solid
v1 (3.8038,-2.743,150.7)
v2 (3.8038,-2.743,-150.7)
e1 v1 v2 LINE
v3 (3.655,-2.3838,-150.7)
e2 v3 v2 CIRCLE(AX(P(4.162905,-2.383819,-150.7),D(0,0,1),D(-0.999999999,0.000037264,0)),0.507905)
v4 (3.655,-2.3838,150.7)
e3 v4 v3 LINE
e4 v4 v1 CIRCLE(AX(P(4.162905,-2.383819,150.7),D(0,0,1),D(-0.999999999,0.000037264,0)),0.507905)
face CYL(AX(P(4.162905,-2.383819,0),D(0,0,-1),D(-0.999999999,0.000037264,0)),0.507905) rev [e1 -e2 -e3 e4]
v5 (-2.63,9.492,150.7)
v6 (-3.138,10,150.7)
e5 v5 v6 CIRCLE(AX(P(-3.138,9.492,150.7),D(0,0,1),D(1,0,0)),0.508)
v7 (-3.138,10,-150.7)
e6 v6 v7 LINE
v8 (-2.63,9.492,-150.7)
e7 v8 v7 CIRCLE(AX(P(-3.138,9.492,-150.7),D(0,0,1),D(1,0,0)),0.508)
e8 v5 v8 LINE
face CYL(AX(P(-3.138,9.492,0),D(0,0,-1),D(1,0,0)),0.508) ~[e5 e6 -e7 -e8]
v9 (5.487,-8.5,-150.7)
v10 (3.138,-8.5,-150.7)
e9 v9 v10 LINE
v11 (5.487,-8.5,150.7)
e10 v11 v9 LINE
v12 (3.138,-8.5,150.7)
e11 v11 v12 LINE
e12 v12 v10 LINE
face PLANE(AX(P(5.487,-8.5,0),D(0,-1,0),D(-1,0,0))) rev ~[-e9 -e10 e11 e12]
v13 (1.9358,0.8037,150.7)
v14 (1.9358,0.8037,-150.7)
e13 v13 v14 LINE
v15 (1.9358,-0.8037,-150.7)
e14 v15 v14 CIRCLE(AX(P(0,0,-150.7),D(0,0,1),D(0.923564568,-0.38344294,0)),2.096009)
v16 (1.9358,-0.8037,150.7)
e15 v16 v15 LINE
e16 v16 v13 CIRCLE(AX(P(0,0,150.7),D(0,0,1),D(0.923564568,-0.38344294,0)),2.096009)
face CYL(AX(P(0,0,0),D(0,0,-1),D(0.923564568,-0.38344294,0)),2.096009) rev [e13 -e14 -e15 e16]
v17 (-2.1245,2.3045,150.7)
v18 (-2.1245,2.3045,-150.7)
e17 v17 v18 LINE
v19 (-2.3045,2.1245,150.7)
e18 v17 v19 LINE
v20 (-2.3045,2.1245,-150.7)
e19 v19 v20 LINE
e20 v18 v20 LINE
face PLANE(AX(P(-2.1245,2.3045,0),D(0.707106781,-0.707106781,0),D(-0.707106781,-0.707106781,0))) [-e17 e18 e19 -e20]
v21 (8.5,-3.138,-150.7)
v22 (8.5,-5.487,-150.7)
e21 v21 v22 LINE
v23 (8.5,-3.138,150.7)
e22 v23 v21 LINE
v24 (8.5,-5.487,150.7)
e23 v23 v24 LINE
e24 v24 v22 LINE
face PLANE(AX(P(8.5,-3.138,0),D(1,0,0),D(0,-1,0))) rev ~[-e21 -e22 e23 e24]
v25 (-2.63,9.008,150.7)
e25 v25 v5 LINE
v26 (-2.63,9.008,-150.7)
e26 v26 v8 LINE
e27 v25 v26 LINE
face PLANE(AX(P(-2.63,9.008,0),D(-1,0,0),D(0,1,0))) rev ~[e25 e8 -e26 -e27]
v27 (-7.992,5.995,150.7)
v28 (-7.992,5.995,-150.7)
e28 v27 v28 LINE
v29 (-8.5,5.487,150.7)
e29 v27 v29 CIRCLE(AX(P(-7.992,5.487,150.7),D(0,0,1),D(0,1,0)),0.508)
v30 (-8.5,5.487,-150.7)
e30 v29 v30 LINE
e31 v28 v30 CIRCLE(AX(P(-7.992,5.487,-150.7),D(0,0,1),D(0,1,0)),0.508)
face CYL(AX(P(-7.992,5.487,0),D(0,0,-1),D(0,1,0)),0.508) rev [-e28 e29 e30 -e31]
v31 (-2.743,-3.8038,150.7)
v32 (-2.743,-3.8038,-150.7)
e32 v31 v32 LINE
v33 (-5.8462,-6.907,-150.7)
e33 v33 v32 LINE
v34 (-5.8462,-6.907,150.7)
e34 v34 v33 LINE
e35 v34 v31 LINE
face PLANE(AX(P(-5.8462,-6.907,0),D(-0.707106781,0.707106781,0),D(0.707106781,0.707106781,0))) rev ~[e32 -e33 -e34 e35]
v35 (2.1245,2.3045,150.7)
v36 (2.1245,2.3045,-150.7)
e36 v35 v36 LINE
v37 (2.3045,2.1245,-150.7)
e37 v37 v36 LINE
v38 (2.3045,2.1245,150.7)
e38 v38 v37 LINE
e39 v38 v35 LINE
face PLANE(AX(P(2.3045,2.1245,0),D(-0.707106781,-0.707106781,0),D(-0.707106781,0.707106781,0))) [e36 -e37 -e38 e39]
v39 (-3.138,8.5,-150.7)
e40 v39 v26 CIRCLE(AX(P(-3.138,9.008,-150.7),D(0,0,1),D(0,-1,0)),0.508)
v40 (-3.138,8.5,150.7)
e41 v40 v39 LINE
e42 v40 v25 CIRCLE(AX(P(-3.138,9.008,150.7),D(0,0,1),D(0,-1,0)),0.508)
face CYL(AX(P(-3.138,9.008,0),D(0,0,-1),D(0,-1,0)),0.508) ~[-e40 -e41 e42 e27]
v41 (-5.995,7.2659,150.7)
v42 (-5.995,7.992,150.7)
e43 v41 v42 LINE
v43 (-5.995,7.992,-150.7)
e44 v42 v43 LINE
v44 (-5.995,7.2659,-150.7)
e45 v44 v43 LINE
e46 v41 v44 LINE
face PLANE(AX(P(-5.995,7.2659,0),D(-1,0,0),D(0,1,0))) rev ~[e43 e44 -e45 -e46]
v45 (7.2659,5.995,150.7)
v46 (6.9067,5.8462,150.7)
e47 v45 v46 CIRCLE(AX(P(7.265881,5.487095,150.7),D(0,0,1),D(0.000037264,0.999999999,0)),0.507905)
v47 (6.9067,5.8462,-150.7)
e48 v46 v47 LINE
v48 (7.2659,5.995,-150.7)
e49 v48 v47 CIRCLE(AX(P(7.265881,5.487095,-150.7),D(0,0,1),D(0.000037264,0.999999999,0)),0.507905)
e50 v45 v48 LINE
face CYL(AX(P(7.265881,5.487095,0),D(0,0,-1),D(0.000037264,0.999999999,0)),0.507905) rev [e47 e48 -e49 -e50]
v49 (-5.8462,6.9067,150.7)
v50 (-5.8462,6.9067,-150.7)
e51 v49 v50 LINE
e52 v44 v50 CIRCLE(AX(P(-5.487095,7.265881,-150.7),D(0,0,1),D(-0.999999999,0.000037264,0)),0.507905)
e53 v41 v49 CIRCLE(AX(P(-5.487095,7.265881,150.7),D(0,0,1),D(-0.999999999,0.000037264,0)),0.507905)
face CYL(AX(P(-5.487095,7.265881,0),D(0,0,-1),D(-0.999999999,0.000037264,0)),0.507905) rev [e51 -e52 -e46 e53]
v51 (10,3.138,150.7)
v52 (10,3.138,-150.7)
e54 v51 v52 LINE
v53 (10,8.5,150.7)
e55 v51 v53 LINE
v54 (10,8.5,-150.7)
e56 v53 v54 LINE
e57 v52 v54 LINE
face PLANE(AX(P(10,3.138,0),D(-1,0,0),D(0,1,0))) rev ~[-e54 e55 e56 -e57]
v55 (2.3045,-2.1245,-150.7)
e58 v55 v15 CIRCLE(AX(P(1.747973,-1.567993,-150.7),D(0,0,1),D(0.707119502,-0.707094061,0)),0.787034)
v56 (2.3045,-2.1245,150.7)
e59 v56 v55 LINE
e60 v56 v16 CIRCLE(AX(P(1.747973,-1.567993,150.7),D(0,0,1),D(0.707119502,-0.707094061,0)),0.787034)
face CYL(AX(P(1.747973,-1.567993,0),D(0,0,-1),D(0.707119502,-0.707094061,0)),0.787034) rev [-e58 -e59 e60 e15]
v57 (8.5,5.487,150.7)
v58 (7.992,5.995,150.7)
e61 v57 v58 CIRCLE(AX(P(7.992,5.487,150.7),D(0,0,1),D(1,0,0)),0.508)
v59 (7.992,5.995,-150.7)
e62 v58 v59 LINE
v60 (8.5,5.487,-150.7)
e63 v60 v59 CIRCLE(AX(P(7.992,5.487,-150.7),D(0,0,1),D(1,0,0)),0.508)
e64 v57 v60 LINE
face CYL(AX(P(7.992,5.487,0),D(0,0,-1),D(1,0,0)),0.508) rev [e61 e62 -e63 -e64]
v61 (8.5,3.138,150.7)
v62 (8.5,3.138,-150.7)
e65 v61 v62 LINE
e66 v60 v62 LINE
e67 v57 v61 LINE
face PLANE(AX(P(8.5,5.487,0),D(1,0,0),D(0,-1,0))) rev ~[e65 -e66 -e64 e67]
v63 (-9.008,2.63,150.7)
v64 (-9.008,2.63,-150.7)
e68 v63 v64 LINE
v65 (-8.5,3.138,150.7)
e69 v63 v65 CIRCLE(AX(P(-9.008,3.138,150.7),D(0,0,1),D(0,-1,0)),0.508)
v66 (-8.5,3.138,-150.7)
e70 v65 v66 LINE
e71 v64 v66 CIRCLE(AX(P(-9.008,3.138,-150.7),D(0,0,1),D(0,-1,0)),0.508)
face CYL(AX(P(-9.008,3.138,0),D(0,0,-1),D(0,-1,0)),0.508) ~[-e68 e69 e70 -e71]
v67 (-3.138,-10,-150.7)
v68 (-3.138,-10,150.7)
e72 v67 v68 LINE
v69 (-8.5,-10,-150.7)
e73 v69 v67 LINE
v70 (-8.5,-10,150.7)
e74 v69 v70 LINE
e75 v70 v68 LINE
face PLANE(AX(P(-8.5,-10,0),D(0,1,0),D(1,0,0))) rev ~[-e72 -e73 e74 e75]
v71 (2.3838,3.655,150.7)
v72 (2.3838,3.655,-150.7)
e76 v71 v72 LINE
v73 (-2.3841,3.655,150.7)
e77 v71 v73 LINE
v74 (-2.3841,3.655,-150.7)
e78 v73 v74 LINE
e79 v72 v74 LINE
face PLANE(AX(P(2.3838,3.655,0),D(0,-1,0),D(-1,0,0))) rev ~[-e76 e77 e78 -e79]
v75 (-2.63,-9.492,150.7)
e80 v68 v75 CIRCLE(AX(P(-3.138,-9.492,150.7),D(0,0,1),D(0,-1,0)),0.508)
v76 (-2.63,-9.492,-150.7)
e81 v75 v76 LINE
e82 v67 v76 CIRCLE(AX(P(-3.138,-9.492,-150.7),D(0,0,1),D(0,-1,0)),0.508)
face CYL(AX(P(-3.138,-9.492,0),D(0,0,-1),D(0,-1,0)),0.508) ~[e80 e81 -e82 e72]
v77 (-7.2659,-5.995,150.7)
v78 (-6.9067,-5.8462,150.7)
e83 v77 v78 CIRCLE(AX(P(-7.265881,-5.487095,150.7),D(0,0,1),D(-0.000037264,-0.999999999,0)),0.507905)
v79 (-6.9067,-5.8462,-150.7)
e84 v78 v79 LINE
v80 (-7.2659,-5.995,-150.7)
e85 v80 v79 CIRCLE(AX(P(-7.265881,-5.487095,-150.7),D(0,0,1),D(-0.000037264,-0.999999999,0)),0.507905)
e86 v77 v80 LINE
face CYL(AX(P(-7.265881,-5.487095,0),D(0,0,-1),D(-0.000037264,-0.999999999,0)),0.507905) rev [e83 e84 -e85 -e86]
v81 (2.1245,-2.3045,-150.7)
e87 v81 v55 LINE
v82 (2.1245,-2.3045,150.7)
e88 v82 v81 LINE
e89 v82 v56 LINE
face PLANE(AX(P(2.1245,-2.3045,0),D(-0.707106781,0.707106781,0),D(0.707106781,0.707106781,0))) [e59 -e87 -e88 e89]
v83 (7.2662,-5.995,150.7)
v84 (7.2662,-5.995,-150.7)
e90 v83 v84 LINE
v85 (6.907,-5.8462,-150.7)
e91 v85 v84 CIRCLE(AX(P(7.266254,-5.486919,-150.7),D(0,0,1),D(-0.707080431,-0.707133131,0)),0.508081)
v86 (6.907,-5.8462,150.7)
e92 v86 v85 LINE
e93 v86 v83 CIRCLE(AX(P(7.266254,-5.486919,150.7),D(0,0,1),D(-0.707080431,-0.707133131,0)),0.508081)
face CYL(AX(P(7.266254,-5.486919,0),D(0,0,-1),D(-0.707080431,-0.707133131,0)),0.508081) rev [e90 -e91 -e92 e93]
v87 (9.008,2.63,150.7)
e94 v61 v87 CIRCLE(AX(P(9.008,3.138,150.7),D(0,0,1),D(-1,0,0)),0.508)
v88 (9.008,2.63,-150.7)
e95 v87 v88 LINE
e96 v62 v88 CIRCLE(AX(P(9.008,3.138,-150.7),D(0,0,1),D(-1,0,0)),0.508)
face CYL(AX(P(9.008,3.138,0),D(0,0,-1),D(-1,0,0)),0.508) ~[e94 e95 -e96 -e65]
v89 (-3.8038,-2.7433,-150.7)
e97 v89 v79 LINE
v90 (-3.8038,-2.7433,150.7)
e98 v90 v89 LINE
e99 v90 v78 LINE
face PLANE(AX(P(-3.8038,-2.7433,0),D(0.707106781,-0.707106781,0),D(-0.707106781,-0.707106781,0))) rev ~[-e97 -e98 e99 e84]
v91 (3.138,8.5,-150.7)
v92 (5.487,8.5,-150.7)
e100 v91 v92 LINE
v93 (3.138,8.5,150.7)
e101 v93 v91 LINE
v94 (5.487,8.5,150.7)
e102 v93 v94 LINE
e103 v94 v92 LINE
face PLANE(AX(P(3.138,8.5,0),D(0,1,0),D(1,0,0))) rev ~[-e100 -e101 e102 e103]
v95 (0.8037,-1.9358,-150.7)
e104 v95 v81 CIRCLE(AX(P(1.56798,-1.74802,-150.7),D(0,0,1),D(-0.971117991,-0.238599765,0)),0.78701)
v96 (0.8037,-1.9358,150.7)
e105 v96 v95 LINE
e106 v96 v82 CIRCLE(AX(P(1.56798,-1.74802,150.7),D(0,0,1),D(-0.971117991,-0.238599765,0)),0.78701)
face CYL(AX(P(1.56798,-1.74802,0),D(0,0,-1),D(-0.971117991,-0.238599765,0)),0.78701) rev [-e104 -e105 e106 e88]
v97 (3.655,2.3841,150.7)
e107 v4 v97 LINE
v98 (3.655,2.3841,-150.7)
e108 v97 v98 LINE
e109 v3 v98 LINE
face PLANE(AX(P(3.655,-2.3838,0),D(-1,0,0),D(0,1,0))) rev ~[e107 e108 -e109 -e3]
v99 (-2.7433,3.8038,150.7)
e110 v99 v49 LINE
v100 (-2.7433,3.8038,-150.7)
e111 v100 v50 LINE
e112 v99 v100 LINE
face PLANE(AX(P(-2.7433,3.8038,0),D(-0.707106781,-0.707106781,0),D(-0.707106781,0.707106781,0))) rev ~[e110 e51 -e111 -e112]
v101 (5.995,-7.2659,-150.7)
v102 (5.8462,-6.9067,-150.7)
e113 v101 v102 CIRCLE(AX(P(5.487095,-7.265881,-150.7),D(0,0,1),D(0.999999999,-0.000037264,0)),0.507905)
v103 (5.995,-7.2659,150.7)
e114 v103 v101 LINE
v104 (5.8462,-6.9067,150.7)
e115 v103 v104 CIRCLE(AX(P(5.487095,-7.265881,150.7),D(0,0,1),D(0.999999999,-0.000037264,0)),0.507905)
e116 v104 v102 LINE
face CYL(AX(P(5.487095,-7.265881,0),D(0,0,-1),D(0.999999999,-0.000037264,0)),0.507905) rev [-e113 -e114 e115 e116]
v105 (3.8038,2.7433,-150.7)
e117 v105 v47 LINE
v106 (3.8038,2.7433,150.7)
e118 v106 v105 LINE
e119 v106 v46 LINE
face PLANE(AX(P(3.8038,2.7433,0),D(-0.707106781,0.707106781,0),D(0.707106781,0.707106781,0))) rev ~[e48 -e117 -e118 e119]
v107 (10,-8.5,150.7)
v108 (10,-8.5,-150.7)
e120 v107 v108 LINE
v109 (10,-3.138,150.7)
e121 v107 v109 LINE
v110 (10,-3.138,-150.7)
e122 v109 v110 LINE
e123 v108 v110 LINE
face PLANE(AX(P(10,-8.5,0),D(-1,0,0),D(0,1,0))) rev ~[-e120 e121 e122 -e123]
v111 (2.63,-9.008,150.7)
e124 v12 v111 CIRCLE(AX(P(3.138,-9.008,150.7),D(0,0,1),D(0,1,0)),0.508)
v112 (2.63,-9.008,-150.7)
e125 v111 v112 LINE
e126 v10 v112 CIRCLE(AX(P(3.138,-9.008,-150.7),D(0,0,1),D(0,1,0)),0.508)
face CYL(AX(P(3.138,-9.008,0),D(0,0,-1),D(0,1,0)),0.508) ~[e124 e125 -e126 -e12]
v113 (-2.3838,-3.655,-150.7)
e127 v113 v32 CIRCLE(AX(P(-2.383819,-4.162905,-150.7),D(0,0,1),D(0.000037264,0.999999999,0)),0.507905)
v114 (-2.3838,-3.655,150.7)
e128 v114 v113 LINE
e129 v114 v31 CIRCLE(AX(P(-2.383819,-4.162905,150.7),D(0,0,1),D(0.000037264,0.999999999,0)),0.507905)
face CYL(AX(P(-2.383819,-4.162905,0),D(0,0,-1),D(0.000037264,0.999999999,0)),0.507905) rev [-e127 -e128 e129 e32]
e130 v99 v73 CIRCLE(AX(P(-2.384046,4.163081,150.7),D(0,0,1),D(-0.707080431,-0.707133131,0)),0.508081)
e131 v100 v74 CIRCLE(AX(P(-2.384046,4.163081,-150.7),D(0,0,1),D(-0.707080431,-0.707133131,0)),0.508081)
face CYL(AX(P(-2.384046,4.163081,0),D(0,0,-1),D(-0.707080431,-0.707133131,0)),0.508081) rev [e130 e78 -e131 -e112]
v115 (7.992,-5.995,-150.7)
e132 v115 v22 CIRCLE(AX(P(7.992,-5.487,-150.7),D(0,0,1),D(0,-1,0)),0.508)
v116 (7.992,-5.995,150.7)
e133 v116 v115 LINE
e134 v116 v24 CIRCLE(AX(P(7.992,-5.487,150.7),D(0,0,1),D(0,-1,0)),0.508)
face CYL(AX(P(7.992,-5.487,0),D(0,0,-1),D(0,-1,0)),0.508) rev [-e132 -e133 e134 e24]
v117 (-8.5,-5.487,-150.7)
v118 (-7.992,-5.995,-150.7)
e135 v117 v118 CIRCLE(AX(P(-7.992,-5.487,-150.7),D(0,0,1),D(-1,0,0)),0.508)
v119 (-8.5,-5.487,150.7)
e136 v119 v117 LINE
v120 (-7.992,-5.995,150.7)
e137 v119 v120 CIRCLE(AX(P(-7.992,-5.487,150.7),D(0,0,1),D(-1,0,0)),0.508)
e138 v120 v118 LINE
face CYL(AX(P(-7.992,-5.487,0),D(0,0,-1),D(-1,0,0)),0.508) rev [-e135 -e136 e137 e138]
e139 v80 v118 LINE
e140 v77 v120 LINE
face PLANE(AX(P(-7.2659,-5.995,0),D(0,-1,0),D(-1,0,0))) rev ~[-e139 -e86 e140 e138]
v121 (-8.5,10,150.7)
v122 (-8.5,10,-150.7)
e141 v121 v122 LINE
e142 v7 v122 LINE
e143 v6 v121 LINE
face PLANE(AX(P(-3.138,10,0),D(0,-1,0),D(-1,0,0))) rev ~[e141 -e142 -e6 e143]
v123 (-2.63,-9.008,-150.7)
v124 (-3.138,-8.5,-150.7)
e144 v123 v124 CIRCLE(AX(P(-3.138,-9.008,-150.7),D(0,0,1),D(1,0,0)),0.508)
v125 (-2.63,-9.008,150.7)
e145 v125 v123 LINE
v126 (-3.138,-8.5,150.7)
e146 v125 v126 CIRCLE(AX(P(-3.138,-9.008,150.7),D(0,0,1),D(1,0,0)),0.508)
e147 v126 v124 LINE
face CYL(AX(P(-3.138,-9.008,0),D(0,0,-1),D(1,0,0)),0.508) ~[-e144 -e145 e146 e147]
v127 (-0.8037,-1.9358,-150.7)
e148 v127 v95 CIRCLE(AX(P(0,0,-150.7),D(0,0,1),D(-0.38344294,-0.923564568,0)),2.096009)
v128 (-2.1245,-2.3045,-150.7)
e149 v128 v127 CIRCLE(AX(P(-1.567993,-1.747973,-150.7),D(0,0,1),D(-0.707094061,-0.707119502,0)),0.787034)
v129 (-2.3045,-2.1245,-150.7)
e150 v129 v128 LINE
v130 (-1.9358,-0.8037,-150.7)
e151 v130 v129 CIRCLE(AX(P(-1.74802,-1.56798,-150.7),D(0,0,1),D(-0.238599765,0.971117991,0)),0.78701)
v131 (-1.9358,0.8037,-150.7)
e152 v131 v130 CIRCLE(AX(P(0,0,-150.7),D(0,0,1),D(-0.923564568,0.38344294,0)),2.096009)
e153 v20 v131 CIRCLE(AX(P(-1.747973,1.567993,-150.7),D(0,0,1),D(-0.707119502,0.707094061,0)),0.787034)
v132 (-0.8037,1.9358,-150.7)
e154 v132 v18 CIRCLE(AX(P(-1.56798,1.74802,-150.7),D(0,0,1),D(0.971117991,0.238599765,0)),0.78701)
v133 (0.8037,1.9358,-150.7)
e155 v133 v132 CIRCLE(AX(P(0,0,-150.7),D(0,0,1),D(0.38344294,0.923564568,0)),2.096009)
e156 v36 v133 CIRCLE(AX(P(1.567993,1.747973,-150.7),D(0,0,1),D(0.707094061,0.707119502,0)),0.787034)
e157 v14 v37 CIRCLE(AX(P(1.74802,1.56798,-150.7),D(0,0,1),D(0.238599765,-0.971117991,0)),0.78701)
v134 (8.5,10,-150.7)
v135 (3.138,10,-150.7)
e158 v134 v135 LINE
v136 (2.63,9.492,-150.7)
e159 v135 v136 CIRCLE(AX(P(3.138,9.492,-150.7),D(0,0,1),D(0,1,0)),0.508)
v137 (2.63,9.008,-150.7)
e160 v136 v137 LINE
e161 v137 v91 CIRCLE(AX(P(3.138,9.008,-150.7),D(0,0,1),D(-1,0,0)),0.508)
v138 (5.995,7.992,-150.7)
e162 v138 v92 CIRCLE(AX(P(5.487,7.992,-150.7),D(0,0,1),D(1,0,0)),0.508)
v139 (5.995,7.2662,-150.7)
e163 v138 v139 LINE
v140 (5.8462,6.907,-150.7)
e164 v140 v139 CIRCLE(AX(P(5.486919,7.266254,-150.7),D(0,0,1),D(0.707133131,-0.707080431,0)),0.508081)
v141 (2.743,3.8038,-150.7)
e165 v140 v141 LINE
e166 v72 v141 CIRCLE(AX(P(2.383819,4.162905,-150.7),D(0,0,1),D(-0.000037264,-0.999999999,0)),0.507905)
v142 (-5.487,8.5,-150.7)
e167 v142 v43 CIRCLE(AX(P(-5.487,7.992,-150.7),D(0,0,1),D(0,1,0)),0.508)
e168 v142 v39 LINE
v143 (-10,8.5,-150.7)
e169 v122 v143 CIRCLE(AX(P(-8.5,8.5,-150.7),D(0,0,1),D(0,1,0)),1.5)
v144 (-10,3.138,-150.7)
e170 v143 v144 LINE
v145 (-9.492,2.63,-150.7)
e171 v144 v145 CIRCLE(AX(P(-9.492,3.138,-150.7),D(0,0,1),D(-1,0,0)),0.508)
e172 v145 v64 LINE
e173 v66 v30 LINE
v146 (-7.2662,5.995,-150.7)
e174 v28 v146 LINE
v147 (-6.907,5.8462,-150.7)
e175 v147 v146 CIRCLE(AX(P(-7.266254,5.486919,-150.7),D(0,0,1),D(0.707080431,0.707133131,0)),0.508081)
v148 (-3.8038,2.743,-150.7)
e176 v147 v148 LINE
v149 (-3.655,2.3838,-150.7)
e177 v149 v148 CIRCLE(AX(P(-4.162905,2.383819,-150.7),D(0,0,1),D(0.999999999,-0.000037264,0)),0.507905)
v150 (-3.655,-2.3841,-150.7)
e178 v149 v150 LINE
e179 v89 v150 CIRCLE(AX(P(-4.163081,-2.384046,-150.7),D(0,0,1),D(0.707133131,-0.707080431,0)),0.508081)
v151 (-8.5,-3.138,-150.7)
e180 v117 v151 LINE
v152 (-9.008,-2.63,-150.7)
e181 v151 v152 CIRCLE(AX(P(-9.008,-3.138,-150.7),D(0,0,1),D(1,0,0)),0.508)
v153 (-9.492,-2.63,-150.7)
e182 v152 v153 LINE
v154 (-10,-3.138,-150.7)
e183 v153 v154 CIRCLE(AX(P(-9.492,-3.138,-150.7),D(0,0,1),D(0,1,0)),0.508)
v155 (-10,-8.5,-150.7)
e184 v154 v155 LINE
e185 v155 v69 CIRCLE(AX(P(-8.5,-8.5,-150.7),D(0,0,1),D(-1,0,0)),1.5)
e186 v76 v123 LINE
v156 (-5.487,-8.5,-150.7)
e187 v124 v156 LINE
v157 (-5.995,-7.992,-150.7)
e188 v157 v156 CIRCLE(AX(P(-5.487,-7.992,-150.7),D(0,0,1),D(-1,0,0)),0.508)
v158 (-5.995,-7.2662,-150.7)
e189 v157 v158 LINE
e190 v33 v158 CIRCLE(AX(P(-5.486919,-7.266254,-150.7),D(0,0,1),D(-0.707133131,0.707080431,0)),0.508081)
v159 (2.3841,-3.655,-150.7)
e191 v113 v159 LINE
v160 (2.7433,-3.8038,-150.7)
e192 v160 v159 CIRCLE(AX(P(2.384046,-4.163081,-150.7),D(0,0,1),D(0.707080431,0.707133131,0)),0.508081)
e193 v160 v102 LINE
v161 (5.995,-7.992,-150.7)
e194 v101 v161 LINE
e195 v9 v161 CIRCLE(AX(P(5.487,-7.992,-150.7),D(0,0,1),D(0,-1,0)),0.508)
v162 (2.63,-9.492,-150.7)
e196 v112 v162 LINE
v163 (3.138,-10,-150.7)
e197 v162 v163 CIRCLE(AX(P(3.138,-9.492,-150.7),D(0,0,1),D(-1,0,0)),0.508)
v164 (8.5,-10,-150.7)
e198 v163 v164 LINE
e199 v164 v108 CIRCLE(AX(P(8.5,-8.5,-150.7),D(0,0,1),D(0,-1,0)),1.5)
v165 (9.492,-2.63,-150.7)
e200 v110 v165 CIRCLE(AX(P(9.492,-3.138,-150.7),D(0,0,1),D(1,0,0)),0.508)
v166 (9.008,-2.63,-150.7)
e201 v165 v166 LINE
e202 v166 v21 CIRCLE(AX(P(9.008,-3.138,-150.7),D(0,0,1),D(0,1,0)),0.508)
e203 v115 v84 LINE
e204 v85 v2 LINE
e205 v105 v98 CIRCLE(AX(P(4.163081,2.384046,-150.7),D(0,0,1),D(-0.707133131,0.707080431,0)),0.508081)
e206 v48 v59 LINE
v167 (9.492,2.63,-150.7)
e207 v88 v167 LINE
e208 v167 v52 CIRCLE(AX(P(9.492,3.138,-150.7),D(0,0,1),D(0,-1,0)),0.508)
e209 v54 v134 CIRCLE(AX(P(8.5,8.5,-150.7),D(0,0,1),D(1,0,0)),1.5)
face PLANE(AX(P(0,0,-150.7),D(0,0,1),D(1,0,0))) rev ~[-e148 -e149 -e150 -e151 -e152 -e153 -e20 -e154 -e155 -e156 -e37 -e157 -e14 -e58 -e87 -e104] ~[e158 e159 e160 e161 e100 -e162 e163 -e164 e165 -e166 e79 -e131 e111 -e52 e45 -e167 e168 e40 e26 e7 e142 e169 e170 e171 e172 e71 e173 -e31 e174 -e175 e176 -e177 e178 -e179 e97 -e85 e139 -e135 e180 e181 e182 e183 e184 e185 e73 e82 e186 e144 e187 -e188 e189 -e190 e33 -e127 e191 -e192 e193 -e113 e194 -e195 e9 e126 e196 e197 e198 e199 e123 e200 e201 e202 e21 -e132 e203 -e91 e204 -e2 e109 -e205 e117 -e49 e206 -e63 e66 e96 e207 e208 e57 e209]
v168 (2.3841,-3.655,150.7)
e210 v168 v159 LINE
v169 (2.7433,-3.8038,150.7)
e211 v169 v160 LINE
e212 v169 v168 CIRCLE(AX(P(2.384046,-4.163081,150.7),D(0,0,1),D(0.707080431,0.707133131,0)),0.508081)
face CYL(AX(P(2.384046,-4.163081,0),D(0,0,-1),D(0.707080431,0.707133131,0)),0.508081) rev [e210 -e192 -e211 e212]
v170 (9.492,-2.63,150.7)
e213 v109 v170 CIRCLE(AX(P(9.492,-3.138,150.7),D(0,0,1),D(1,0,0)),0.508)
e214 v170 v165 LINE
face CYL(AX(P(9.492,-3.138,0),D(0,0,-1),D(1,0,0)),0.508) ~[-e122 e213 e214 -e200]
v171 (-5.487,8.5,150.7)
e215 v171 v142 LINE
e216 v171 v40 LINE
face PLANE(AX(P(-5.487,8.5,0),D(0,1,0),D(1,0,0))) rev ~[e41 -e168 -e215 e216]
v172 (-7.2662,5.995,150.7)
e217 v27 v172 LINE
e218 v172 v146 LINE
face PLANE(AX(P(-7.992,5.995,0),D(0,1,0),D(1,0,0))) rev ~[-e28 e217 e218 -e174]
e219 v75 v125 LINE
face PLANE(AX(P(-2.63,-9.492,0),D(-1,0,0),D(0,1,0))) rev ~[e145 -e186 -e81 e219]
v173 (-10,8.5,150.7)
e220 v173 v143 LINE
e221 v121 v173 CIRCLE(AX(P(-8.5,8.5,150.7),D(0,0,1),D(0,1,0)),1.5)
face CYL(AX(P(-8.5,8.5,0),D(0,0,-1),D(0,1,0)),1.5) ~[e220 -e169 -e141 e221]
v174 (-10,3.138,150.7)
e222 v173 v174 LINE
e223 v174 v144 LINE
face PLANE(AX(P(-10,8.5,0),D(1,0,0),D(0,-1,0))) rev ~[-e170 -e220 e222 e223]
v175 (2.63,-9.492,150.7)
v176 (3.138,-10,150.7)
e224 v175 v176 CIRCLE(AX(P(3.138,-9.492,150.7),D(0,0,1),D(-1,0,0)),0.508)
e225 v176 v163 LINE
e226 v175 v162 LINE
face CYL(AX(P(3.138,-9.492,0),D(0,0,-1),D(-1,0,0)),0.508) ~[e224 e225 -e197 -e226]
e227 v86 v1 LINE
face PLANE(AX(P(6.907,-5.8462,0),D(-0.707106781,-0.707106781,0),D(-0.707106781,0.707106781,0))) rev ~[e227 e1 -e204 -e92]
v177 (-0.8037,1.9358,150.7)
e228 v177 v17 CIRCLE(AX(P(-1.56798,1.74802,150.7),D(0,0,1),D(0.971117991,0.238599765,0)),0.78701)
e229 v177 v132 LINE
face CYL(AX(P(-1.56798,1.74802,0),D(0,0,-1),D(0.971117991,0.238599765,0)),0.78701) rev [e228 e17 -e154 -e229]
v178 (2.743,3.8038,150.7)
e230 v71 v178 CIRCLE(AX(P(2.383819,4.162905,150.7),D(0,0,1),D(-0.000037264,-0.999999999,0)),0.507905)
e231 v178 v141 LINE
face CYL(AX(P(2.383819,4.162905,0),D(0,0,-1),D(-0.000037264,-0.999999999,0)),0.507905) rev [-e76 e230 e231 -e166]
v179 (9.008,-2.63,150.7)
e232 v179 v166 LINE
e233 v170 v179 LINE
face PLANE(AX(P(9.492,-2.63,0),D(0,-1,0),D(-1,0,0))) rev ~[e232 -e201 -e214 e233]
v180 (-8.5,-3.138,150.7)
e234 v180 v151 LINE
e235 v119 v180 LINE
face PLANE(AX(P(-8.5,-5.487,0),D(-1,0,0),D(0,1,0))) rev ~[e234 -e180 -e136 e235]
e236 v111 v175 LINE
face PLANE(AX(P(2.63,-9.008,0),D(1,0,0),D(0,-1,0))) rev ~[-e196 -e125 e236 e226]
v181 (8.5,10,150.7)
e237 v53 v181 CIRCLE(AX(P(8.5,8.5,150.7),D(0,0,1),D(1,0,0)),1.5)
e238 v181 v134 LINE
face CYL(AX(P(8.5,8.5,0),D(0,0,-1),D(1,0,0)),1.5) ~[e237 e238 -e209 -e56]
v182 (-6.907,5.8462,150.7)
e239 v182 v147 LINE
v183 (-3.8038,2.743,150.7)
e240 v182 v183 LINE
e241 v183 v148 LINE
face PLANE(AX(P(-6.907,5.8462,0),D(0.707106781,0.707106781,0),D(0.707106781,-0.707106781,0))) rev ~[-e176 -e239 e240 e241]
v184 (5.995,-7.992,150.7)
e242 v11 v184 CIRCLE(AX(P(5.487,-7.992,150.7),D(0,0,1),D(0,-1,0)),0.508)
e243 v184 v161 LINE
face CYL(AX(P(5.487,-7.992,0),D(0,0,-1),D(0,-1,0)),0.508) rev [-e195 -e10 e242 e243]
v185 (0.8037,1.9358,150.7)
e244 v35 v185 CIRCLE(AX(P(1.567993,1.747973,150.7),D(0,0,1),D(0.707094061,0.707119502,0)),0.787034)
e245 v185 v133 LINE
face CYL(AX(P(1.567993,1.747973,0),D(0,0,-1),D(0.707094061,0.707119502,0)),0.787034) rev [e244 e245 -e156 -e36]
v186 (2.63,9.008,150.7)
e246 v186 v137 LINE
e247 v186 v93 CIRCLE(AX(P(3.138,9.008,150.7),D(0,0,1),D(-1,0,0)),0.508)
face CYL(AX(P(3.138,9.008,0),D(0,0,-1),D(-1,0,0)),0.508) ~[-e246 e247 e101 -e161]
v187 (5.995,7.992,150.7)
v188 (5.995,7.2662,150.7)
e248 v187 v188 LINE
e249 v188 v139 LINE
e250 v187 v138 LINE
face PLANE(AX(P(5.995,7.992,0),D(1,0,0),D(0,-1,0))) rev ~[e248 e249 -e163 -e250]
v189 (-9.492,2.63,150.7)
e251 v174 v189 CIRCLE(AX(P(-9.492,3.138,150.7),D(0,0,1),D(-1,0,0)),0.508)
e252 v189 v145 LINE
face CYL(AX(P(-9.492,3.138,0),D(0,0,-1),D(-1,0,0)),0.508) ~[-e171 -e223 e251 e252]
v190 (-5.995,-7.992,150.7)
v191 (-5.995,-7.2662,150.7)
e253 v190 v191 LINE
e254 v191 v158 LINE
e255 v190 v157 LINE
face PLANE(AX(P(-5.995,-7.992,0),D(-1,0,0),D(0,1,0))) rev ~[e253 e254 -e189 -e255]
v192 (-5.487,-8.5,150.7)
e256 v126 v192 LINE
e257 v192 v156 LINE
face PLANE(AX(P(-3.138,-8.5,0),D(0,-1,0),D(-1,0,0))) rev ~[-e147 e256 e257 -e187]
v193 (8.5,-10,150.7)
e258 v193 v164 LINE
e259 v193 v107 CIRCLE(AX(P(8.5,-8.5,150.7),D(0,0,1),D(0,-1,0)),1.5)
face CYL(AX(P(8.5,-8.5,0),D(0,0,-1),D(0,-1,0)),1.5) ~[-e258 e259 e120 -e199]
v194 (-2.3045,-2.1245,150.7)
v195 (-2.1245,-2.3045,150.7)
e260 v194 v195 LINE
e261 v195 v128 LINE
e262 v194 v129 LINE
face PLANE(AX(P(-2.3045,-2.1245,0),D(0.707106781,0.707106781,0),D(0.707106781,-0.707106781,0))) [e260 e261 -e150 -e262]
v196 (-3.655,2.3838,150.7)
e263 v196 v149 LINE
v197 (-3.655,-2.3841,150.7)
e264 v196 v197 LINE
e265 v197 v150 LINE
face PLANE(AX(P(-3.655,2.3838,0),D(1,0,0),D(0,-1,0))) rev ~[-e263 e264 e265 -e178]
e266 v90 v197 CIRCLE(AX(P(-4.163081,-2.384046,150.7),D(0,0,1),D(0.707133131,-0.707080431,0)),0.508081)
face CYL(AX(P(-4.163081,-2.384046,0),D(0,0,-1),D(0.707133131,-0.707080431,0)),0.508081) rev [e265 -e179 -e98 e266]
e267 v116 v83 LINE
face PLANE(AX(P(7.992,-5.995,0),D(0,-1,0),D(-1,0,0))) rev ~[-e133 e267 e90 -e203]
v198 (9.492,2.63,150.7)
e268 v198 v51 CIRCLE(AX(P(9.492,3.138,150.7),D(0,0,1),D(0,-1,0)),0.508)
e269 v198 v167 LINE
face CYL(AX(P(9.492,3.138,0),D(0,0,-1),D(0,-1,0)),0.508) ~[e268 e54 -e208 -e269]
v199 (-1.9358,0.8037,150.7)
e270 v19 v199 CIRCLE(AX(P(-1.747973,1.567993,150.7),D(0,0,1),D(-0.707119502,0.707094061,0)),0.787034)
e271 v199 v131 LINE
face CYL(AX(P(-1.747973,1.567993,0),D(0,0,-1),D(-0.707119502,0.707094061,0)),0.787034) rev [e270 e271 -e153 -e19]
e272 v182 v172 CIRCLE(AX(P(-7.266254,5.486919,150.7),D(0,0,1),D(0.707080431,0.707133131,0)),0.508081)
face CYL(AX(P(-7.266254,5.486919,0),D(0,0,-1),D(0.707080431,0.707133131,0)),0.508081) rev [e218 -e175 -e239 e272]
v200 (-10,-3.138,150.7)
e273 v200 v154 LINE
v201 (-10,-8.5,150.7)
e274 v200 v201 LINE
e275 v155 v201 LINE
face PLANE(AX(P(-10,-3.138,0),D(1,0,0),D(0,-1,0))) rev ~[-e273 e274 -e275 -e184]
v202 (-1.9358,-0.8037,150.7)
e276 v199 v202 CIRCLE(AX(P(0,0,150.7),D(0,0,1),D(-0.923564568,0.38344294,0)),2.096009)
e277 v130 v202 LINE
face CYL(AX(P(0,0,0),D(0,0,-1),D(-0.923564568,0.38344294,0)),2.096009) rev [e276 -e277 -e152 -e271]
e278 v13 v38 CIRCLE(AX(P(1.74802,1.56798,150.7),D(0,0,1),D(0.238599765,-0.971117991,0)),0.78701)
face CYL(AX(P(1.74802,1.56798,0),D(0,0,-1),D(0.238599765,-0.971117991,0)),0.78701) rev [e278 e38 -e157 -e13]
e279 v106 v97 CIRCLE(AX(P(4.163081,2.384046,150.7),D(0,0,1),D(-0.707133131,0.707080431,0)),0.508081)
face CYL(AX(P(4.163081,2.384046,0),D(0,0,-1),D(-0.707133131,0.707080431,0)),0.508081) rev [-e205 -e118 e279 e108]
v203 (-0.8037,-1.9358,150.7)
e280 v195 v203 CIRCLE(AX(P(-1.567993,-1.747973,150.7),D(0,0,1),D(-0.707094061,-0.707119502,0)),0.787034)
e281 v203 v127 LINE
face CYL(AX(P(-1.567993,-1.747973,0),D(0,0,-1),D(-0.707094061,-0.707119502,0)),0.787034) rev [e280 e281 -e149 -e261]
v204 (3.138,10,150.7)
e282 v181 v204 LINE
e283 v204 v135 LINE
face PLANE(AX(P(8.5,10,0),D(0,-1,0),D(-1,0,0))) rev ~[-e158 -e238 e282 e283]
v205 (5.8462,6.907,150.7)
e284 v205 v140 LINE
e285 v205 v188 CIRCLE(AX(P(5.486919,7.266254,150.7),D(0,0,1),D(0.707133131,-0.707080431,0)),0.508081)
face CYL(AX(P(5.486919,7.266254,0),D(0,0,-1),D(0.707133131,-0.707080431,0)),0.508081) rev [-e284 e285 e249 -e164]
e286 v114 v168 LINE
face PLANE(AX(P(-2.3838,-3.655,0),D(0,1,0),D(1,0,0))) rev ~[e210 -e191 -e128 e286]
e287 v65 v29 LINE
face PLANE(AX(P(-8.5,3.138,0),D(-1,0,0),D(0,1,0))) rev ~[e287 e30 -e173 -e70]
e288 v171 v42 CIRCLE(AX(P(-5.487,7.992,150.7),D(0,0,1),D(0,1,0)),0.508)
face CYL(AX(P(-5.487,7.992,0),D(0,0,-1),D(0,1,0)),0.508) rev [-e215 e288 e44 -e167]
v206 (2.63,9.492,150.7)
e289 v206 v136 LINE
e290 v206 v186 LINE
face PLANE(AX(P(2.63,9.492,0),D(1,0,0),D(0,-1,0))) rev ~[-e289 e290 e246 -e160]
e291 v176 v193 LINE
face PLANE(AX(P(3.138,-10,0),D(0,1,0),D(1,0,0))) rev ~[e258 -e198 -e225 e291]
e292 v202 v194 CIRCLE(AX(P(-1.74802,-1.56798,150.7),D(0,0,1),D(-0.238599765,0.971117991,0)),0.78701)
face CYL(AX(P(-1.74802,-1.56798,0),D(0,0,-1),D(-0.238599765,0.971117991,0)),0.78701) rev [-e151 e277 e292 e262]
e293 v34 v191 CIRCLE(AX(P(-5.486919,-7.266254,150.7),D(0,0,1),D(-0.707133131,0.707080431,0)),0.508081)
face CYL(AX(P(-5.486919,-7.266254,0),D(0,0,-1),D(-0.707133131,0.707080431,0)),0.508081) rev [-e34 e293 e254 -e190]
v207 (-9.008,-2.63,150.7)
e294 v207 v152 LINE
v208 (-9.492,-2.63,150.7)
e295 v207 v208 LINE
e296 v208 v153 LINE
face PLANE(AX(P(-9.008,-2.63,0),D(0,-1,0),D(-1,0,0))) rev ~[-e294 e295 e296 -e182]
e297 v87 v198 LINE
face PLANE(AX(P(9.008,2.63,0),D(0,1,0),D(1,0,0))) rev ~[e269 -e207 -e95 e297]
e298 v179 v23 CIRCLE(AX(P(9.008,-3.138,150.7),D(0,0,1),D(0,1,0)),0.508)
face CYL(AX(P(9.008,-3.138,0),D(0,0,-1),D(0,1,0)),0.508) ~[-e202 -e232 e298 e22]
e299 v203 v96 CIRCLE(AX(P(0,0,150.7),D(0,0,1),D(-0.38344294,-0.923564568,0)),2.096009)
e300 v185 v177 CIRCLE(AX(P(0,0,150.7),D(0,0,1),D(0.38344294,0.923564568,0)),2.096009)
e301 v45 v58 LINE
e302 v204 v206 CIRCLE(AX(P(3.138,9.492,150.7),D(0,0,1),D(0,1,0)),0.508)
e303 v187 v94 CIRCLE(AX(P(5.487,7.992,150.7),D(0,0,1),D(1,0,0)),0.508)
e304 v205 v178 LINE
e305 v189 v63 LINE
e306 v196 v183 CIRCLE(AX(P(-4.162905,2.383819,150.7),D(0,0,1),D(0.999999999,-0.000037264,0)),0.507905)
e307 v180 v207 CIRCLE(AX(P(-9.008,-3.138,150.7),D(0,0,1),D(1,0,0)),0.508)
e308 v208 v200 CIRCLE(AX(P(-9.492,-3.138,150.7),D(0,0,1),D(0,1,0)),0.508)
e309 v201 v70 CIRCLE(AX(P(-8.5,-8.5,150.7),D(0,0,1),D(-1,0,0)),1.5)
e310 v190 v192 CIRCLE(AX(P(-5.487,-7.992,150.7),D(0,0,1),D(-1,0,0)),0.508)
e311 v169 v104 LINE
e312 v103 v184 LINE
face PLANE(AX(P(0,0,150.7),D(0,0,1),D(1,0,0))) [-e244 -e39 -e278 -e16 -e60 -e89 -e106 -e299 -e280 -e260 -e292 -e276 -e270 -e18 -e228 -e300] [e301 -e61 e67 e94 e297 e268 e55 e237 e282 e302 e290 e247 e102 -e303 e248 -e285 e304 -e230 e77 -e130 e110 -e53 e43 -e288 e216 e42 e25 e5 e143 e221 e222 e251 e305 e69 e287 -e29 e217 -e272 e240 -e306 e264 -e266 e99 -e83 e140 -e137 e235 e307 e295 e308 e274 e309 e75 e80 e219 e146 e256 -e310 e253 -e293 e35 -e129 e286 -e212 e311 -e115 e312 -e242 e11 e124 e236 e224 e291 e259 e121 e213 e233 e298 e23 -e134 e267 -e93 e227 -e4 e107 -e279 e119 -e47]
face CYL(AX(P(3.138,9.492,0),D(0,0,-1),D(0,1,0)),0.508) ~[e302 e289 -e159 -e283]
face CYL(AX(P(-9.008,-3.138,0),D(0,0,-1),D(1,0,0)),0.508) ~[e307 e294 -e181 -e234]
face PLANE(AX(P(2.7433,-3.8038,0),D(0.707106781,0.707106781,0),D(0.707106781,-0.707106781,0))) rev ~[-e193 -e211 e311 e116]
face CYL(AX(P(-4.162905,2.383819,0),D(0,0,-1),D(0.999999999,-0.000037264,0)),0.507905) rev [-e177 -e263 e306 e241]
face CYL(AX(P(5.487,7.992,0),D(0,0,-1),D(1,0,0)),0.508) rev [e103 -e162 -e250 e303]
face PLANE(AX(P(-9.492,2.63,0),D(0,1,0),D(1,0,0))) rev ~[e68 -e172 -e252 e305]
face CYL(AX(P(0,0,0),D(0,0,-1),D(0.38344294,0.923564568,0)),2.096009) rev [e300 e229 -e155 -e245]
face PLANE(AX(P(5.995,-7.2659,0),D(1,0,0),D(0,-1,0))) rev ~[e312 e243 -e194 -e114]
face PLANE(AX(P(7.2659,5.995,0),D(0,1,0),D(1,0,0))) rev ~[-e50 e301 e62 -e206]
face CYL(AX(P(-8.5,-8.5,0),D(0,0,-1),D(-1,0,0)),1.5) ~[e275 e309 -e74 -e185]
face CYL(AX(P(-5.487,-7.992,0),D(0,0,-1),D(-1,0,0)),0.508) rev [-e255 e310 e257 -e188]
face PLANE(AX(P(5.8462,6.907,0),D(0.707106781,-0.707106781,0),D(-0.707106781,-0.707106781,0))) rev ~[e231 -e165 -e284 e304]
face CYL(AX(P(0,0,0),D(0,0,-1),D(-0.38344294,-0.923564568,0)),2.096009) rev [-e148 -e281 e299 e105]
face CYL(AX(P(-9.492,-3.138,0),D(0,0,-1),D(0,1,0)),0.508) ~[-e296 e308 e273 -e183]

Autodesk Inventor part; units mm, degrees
ref_plane "YZ Plane" through (0, 0, 0) normal (1, 0, 0) x (0, 1, 0)
ref_plane "XZ Plane" through (0, 0, 0) normal (0, 1, 0) x (-1, 0, 0)
ref_plane "XY Plane" through (0, 0, 0) normal (0, 0, 1) x (1, 0, 0)
sketch "Sketch_1" plane through (0, 0, 0) normal (0, 0, 1) x (1, 0, 0)
  arc A0 (-10, -8.5) -> (-8.5, -10) centre (-8.5, -8.5) ccw
  line L0 (-8.5, -10) -> (-3.138, -10)
  arc A1 (-3.138, -10) -> (-2.63, -9.492) centre (-3.138, -9.492) ccw
  line L1 (-2.63, -9.492) -> (-2.63, -9.008)
  arc A2 (-2.63, -9.008) -> (-3.138, -8.5) centre (-3.138, -9.008) ccw
  line L2 (-3.138, -8.5) -> (-5.487, -8.5)
  arc A3 (-5.995, -7.992) -> (-5.487, -8.5) centre (-5.487, -7.992) ccw
  line L3 (-5.995, -7.992) -> (-5.995, -7.2662)
  arc A4 (-5.8462, -6.907) -> (-5.995, -7.2662) centre (-5.487, -7.2662) ccw
  line L4 (-5.8462, -6.907) -> (-2.743, -3.8038)
  arc A5 (-2.3838, -3.655) -> (-2.743, -3.8038) centre (-2.3838, -4.163) ccw
  line L5 (-2.3838, -3.655) -> (2.3841, -3.655)
  arc A6 (2.7433, -3.8038) -> (2.3841, -3.655) centre (2.3841, -4.163) ccw
  line L6 (2.7433, -3.8038) -> (5.8462, -6.9067)
  arc A7 (5.995, -7.2659) -> (5.8462, -6.9067) centre (5.487, -7.2659) ccw
  line L7 (5.995, -7.2659) -> (5.995, -7.992)
  arc A8 (5.487, -8.5) -> (5.995, -7.992) centre (5.487, -7.992) ccw
  line L8 (5.487, -8.5) -> (3.138, -8.5)
  arc A9 (3.138, -8.5) -> (2.63, -9.008) centre (3.138, -9.008) ccw
  line L9 (2.63, -9.008) -> (2.63, -9.492)
  arc A10 (2.63, -9.492) -> (3.138, -10) centre (3.138, -9.492) ccw
  line L10 (3.138, -10) -> (8.5, -10)
  arc A11 (8.5, -10) -> (10, -8.5) centre (8.5, -8.5) ccw
  line L11 (10, -8.5) -> (10, -3.138)
  arc A12 (10, -3.138) -> (9.492, -2.63) centre (9.492, -3.138) ccw
  line L12 (9.492, -2.63) -> (9.008, -2.63)
  arc A13 (9.008, -2.63) -> (8.5, -3.138) centre (9.008, -3.138) ccw
  line L13 (8.5, -3.138) -> (8.5, -5.487)
  arc A14 (7.992, -5.995) -> (8.5, -5.487) centre (7.992, -5.487) ccw
  line L14 (7.992, -5.995) -> (7.2662, -5.995)
  arc A15 (6.907, -5.8462) -> (7.2662, -5.995) centre (7.2662, -5.487) ccw
  line L15 (6.907, -5.8462) -> (3.8038, -2.743)
  arc A16 (3.655, -2.3838) -> (3.8038, -2.743) centre (4.163, -2.3838) ccw
  line L16 (3.655, -2.3838) -> (3.655, 2.3841)
  arc A17 (3.8038, 2.7433) -> (3.655, 2.3841) centre (4.163, 2.3841) ccw
  line L17 (3.8038, 2.7433) -> (6.9067, 5.8462)
  arc A18 (7.2659, 5.995) -> (6.9067, 5.8462) centre (7.2659, 5.487) ccw
  line L18 (7.2659, 5.995) -> (7.992, 5.995)
  arc A19 (8.5, 5.487) -> (7.992, 5.995) centre (7.992, 5.487) ccw
  line L19 (8.5, 5.487) -> (8.5, 3.138)
  arc A20 (8.5, 3.138) -> (9.008, 2.63) centre (9.008, 3.138) ccw
  line L20 (9.008, 2.63) -> (9.492, 2.63)
  arc A21 (9.492, 2.63) -> (10, 3.138) centre (9.492, 3.138) ccw
  line L21 (10, 3.138) -> (10, 8.5)
  arc A22 (10, 8.5) -> (8.5, 10) centre (8.5, 8.5) ccw
  line L22 (8.5, 10) -> (3.138, 10)
  arc A23 (3.138, 10) -> (2.63, 9.492) centre (3.138, 9.492) ccw
  line L23 (2.63, 9.492) -> (2.63, 9.008)
  arc A24 (2.63, 9.008) -> (3.138, 8.5) centre (3.138, 9.008) ccw
  line L24 (3.138, 8.5) -> (5.487, 8.5)
  arc A25 (5.995, 7.992) -> (5.487, 8.5) centre (5.487, 7.992) ccw
  line L25 (5.995, 7.992) -> (5.995, 7.2662)
  arc A26 (5.8462, 6.907) -> (5.995, 7.2662) centre (5.487, 7.2662) ccw
  line L26 (5.8462, 6.907) -> (2.743, 3.8038)
  arc A27 (2.3838, 3.655) -> (2.743, 3.8038) centre (2.3838, 4.163) ccw
  line L27 (2.3838, 3.655) -> (-2.3841, 3.655)
  arc A28 (-2.7433, 3.8038) -> (-2.3841, 3.655) centre (-2.3841, 4.163) ccw
  line L28 (-2.7433, 3.8038) -> (-5.8462, 6.9067)
  arc A29 (-5.995, 7.2659) -> (-5.8462, 6.9067) centre (-5.487, 7.2659) ccw
  line L29 (-5.995, 7.2659) -> (-5.995, 7.992)
  arc A30 (-5.487, 8.5) -> (-5.995, 7.992) centre (-5.487, 7.992) ccw
  line L30 (-5.487, 8.5) -> (-3.138, 8.5)
  arc A31 (-3.138, 8.5) -> (-2.63, 9.008) centre (-3.138, 9.008) ccw
  line L31 (-2.63, 9.008) -> (-2.63, 9.492)
  arc A32 (-2.63, 9.492) -> (-3.138, 10) centre (-3.138, 9.492) ccw
  line L32 (-3.138, 10) -> (-8.5, 10)
  arc A33 (-8.5, 10) -> (-10, 8.5) centre (-8.5, 8.5) ccw
  line L33 (-10, 8.5) -> (-10, 3.138)
  arc A34 (-10, 3.138) -> (-9.492, 2.63) centre (-9.492, 3.138) ccw
  line L34 (-9.492, 2.63) -> (-9.008, 2.63)
  arc A35 (-9.008, 2.63) -> (-8.5, 3.138) centre (-9.008, 3.138) ccw
  line L35 (-8.5, 3.138) -> (-8.5, 5.487)
  arc A36 (-7.992, 5.995) -> (-8.5, 5.487) centre (-7.992, 5.487) ccw
  line L36 (-7.992, 5.995) -> (-7.2662, 5.995)
  arc A37 (-6.907, 5.8462) -> (-7.2662, 5.995) centre (-7.2662, 5.487) ccw
  line L37 (-6.907, 5.8462) -> (-3.8038, 2.743)
  arc A38 (-3.655, 2.3838) -> (-3.8038, 2.743) centre (-4.163, 2.3838) ccw
  line L38 (-3.655, 2.3838) -> (-3.655, -2.3841)
  arc A39 (-3.8038, -2.7433) -> (-3.655, -2.3841) centre (-4.163, -2.3841) ccw
  line L39 (-3.8038, -2.7433) -> (-6.9067, -5.8462)
  arc A40 (-7.2659, -5.995) -> (-6.9067, -5.8462) centre (-7.2659, -5.487) ccw
  line L40 (-7.2659, -5.995) -> (-7.992, -5.995)
  arc A41 (-8.5, -5.487) -> (-7.992, -5.995) centre (-7.992, -5.487) ccw
  line L41 (-8.5, -5.487) -> (-8.5, -3.138)
  arc A42 (-8.5, -3.138) -> (-9.008, -2.63) centre (-9.008, -3.138) ccw
  line L42 (-9.008, -2.63) -> (-9.492, -2.63)
  arc A43 (-9.492, -2.63) -> (-10, -3.138) centre (-9.492, -3.138) ccw
  line L43 (-10, -3.138) -> (-10, -8.5)
  arc A44 (-1.9358, -0.8037) -> (-2.3045, -2.1245) centre (-1.748, -1.568) ccw
  line L44 (-2.3045, -2.1245) -> (-2.1245, -2.3045)
  arc A45 (-2.1245, -2.3045) -> (-0.8037, -1.9358) centre (-1.568, -1.748) ccw
  arc A46 (-0.8037, -1.9358) -> (0.8037, -1.9358) centre (0, 0) ccw
  arc A47 (0.8037, -1.9358) -> (2.1245, -2.3045) centre (1.568, -1.748) ccw
  line L45 (2.1245, -2.3045) -> (2.3045, -2.1245)
  arc A48 (2.3045, -2.1245) -> (1.9358, -0.8037) centre (1.748, -1.568) ccw
  arc A49 (1.9358, -0.8037) -> (1.9358, 0.8037) centre (0, 0) ccw
  arc A50 (1.9358, 0.8037) -> (2.3045, 2.1245) centre (1.748, 1.568) ccw
  line L46 (2.3045, 2.1245) -> (2.1245, 2.3045)
  arc A51 (2.1245, 2.3045) -> (0.8037, 1.9358) centre (1.568, 1.748) ccw
  arc A52 (0.8037, 1.9358) -> (-0.8037, 1.9358) centre (0, 0) ccw
  arc A53 (-0.8037, 1.9358) -> (-2.1245, 2.3045) centre (-1.568, 1.748) ccw
  line L47 (-2.1245, 2.3045) -> (-2.3045, 2.1245)
  arc A54 (-2.3045, 2.1245) -> (-1.9358, 0.8037) centre (-1.748, 1.568) ccw
  arc A55 (-1.9358, 0.8037) -> (-1.9358, -0.8037) centre (0, 0) ccw
extrude "Extrusion1" add sketch "Sketch_1" along normal mid plane 301.4
properties part number "20x20x301.4 T Slot Extrusion Bar"
